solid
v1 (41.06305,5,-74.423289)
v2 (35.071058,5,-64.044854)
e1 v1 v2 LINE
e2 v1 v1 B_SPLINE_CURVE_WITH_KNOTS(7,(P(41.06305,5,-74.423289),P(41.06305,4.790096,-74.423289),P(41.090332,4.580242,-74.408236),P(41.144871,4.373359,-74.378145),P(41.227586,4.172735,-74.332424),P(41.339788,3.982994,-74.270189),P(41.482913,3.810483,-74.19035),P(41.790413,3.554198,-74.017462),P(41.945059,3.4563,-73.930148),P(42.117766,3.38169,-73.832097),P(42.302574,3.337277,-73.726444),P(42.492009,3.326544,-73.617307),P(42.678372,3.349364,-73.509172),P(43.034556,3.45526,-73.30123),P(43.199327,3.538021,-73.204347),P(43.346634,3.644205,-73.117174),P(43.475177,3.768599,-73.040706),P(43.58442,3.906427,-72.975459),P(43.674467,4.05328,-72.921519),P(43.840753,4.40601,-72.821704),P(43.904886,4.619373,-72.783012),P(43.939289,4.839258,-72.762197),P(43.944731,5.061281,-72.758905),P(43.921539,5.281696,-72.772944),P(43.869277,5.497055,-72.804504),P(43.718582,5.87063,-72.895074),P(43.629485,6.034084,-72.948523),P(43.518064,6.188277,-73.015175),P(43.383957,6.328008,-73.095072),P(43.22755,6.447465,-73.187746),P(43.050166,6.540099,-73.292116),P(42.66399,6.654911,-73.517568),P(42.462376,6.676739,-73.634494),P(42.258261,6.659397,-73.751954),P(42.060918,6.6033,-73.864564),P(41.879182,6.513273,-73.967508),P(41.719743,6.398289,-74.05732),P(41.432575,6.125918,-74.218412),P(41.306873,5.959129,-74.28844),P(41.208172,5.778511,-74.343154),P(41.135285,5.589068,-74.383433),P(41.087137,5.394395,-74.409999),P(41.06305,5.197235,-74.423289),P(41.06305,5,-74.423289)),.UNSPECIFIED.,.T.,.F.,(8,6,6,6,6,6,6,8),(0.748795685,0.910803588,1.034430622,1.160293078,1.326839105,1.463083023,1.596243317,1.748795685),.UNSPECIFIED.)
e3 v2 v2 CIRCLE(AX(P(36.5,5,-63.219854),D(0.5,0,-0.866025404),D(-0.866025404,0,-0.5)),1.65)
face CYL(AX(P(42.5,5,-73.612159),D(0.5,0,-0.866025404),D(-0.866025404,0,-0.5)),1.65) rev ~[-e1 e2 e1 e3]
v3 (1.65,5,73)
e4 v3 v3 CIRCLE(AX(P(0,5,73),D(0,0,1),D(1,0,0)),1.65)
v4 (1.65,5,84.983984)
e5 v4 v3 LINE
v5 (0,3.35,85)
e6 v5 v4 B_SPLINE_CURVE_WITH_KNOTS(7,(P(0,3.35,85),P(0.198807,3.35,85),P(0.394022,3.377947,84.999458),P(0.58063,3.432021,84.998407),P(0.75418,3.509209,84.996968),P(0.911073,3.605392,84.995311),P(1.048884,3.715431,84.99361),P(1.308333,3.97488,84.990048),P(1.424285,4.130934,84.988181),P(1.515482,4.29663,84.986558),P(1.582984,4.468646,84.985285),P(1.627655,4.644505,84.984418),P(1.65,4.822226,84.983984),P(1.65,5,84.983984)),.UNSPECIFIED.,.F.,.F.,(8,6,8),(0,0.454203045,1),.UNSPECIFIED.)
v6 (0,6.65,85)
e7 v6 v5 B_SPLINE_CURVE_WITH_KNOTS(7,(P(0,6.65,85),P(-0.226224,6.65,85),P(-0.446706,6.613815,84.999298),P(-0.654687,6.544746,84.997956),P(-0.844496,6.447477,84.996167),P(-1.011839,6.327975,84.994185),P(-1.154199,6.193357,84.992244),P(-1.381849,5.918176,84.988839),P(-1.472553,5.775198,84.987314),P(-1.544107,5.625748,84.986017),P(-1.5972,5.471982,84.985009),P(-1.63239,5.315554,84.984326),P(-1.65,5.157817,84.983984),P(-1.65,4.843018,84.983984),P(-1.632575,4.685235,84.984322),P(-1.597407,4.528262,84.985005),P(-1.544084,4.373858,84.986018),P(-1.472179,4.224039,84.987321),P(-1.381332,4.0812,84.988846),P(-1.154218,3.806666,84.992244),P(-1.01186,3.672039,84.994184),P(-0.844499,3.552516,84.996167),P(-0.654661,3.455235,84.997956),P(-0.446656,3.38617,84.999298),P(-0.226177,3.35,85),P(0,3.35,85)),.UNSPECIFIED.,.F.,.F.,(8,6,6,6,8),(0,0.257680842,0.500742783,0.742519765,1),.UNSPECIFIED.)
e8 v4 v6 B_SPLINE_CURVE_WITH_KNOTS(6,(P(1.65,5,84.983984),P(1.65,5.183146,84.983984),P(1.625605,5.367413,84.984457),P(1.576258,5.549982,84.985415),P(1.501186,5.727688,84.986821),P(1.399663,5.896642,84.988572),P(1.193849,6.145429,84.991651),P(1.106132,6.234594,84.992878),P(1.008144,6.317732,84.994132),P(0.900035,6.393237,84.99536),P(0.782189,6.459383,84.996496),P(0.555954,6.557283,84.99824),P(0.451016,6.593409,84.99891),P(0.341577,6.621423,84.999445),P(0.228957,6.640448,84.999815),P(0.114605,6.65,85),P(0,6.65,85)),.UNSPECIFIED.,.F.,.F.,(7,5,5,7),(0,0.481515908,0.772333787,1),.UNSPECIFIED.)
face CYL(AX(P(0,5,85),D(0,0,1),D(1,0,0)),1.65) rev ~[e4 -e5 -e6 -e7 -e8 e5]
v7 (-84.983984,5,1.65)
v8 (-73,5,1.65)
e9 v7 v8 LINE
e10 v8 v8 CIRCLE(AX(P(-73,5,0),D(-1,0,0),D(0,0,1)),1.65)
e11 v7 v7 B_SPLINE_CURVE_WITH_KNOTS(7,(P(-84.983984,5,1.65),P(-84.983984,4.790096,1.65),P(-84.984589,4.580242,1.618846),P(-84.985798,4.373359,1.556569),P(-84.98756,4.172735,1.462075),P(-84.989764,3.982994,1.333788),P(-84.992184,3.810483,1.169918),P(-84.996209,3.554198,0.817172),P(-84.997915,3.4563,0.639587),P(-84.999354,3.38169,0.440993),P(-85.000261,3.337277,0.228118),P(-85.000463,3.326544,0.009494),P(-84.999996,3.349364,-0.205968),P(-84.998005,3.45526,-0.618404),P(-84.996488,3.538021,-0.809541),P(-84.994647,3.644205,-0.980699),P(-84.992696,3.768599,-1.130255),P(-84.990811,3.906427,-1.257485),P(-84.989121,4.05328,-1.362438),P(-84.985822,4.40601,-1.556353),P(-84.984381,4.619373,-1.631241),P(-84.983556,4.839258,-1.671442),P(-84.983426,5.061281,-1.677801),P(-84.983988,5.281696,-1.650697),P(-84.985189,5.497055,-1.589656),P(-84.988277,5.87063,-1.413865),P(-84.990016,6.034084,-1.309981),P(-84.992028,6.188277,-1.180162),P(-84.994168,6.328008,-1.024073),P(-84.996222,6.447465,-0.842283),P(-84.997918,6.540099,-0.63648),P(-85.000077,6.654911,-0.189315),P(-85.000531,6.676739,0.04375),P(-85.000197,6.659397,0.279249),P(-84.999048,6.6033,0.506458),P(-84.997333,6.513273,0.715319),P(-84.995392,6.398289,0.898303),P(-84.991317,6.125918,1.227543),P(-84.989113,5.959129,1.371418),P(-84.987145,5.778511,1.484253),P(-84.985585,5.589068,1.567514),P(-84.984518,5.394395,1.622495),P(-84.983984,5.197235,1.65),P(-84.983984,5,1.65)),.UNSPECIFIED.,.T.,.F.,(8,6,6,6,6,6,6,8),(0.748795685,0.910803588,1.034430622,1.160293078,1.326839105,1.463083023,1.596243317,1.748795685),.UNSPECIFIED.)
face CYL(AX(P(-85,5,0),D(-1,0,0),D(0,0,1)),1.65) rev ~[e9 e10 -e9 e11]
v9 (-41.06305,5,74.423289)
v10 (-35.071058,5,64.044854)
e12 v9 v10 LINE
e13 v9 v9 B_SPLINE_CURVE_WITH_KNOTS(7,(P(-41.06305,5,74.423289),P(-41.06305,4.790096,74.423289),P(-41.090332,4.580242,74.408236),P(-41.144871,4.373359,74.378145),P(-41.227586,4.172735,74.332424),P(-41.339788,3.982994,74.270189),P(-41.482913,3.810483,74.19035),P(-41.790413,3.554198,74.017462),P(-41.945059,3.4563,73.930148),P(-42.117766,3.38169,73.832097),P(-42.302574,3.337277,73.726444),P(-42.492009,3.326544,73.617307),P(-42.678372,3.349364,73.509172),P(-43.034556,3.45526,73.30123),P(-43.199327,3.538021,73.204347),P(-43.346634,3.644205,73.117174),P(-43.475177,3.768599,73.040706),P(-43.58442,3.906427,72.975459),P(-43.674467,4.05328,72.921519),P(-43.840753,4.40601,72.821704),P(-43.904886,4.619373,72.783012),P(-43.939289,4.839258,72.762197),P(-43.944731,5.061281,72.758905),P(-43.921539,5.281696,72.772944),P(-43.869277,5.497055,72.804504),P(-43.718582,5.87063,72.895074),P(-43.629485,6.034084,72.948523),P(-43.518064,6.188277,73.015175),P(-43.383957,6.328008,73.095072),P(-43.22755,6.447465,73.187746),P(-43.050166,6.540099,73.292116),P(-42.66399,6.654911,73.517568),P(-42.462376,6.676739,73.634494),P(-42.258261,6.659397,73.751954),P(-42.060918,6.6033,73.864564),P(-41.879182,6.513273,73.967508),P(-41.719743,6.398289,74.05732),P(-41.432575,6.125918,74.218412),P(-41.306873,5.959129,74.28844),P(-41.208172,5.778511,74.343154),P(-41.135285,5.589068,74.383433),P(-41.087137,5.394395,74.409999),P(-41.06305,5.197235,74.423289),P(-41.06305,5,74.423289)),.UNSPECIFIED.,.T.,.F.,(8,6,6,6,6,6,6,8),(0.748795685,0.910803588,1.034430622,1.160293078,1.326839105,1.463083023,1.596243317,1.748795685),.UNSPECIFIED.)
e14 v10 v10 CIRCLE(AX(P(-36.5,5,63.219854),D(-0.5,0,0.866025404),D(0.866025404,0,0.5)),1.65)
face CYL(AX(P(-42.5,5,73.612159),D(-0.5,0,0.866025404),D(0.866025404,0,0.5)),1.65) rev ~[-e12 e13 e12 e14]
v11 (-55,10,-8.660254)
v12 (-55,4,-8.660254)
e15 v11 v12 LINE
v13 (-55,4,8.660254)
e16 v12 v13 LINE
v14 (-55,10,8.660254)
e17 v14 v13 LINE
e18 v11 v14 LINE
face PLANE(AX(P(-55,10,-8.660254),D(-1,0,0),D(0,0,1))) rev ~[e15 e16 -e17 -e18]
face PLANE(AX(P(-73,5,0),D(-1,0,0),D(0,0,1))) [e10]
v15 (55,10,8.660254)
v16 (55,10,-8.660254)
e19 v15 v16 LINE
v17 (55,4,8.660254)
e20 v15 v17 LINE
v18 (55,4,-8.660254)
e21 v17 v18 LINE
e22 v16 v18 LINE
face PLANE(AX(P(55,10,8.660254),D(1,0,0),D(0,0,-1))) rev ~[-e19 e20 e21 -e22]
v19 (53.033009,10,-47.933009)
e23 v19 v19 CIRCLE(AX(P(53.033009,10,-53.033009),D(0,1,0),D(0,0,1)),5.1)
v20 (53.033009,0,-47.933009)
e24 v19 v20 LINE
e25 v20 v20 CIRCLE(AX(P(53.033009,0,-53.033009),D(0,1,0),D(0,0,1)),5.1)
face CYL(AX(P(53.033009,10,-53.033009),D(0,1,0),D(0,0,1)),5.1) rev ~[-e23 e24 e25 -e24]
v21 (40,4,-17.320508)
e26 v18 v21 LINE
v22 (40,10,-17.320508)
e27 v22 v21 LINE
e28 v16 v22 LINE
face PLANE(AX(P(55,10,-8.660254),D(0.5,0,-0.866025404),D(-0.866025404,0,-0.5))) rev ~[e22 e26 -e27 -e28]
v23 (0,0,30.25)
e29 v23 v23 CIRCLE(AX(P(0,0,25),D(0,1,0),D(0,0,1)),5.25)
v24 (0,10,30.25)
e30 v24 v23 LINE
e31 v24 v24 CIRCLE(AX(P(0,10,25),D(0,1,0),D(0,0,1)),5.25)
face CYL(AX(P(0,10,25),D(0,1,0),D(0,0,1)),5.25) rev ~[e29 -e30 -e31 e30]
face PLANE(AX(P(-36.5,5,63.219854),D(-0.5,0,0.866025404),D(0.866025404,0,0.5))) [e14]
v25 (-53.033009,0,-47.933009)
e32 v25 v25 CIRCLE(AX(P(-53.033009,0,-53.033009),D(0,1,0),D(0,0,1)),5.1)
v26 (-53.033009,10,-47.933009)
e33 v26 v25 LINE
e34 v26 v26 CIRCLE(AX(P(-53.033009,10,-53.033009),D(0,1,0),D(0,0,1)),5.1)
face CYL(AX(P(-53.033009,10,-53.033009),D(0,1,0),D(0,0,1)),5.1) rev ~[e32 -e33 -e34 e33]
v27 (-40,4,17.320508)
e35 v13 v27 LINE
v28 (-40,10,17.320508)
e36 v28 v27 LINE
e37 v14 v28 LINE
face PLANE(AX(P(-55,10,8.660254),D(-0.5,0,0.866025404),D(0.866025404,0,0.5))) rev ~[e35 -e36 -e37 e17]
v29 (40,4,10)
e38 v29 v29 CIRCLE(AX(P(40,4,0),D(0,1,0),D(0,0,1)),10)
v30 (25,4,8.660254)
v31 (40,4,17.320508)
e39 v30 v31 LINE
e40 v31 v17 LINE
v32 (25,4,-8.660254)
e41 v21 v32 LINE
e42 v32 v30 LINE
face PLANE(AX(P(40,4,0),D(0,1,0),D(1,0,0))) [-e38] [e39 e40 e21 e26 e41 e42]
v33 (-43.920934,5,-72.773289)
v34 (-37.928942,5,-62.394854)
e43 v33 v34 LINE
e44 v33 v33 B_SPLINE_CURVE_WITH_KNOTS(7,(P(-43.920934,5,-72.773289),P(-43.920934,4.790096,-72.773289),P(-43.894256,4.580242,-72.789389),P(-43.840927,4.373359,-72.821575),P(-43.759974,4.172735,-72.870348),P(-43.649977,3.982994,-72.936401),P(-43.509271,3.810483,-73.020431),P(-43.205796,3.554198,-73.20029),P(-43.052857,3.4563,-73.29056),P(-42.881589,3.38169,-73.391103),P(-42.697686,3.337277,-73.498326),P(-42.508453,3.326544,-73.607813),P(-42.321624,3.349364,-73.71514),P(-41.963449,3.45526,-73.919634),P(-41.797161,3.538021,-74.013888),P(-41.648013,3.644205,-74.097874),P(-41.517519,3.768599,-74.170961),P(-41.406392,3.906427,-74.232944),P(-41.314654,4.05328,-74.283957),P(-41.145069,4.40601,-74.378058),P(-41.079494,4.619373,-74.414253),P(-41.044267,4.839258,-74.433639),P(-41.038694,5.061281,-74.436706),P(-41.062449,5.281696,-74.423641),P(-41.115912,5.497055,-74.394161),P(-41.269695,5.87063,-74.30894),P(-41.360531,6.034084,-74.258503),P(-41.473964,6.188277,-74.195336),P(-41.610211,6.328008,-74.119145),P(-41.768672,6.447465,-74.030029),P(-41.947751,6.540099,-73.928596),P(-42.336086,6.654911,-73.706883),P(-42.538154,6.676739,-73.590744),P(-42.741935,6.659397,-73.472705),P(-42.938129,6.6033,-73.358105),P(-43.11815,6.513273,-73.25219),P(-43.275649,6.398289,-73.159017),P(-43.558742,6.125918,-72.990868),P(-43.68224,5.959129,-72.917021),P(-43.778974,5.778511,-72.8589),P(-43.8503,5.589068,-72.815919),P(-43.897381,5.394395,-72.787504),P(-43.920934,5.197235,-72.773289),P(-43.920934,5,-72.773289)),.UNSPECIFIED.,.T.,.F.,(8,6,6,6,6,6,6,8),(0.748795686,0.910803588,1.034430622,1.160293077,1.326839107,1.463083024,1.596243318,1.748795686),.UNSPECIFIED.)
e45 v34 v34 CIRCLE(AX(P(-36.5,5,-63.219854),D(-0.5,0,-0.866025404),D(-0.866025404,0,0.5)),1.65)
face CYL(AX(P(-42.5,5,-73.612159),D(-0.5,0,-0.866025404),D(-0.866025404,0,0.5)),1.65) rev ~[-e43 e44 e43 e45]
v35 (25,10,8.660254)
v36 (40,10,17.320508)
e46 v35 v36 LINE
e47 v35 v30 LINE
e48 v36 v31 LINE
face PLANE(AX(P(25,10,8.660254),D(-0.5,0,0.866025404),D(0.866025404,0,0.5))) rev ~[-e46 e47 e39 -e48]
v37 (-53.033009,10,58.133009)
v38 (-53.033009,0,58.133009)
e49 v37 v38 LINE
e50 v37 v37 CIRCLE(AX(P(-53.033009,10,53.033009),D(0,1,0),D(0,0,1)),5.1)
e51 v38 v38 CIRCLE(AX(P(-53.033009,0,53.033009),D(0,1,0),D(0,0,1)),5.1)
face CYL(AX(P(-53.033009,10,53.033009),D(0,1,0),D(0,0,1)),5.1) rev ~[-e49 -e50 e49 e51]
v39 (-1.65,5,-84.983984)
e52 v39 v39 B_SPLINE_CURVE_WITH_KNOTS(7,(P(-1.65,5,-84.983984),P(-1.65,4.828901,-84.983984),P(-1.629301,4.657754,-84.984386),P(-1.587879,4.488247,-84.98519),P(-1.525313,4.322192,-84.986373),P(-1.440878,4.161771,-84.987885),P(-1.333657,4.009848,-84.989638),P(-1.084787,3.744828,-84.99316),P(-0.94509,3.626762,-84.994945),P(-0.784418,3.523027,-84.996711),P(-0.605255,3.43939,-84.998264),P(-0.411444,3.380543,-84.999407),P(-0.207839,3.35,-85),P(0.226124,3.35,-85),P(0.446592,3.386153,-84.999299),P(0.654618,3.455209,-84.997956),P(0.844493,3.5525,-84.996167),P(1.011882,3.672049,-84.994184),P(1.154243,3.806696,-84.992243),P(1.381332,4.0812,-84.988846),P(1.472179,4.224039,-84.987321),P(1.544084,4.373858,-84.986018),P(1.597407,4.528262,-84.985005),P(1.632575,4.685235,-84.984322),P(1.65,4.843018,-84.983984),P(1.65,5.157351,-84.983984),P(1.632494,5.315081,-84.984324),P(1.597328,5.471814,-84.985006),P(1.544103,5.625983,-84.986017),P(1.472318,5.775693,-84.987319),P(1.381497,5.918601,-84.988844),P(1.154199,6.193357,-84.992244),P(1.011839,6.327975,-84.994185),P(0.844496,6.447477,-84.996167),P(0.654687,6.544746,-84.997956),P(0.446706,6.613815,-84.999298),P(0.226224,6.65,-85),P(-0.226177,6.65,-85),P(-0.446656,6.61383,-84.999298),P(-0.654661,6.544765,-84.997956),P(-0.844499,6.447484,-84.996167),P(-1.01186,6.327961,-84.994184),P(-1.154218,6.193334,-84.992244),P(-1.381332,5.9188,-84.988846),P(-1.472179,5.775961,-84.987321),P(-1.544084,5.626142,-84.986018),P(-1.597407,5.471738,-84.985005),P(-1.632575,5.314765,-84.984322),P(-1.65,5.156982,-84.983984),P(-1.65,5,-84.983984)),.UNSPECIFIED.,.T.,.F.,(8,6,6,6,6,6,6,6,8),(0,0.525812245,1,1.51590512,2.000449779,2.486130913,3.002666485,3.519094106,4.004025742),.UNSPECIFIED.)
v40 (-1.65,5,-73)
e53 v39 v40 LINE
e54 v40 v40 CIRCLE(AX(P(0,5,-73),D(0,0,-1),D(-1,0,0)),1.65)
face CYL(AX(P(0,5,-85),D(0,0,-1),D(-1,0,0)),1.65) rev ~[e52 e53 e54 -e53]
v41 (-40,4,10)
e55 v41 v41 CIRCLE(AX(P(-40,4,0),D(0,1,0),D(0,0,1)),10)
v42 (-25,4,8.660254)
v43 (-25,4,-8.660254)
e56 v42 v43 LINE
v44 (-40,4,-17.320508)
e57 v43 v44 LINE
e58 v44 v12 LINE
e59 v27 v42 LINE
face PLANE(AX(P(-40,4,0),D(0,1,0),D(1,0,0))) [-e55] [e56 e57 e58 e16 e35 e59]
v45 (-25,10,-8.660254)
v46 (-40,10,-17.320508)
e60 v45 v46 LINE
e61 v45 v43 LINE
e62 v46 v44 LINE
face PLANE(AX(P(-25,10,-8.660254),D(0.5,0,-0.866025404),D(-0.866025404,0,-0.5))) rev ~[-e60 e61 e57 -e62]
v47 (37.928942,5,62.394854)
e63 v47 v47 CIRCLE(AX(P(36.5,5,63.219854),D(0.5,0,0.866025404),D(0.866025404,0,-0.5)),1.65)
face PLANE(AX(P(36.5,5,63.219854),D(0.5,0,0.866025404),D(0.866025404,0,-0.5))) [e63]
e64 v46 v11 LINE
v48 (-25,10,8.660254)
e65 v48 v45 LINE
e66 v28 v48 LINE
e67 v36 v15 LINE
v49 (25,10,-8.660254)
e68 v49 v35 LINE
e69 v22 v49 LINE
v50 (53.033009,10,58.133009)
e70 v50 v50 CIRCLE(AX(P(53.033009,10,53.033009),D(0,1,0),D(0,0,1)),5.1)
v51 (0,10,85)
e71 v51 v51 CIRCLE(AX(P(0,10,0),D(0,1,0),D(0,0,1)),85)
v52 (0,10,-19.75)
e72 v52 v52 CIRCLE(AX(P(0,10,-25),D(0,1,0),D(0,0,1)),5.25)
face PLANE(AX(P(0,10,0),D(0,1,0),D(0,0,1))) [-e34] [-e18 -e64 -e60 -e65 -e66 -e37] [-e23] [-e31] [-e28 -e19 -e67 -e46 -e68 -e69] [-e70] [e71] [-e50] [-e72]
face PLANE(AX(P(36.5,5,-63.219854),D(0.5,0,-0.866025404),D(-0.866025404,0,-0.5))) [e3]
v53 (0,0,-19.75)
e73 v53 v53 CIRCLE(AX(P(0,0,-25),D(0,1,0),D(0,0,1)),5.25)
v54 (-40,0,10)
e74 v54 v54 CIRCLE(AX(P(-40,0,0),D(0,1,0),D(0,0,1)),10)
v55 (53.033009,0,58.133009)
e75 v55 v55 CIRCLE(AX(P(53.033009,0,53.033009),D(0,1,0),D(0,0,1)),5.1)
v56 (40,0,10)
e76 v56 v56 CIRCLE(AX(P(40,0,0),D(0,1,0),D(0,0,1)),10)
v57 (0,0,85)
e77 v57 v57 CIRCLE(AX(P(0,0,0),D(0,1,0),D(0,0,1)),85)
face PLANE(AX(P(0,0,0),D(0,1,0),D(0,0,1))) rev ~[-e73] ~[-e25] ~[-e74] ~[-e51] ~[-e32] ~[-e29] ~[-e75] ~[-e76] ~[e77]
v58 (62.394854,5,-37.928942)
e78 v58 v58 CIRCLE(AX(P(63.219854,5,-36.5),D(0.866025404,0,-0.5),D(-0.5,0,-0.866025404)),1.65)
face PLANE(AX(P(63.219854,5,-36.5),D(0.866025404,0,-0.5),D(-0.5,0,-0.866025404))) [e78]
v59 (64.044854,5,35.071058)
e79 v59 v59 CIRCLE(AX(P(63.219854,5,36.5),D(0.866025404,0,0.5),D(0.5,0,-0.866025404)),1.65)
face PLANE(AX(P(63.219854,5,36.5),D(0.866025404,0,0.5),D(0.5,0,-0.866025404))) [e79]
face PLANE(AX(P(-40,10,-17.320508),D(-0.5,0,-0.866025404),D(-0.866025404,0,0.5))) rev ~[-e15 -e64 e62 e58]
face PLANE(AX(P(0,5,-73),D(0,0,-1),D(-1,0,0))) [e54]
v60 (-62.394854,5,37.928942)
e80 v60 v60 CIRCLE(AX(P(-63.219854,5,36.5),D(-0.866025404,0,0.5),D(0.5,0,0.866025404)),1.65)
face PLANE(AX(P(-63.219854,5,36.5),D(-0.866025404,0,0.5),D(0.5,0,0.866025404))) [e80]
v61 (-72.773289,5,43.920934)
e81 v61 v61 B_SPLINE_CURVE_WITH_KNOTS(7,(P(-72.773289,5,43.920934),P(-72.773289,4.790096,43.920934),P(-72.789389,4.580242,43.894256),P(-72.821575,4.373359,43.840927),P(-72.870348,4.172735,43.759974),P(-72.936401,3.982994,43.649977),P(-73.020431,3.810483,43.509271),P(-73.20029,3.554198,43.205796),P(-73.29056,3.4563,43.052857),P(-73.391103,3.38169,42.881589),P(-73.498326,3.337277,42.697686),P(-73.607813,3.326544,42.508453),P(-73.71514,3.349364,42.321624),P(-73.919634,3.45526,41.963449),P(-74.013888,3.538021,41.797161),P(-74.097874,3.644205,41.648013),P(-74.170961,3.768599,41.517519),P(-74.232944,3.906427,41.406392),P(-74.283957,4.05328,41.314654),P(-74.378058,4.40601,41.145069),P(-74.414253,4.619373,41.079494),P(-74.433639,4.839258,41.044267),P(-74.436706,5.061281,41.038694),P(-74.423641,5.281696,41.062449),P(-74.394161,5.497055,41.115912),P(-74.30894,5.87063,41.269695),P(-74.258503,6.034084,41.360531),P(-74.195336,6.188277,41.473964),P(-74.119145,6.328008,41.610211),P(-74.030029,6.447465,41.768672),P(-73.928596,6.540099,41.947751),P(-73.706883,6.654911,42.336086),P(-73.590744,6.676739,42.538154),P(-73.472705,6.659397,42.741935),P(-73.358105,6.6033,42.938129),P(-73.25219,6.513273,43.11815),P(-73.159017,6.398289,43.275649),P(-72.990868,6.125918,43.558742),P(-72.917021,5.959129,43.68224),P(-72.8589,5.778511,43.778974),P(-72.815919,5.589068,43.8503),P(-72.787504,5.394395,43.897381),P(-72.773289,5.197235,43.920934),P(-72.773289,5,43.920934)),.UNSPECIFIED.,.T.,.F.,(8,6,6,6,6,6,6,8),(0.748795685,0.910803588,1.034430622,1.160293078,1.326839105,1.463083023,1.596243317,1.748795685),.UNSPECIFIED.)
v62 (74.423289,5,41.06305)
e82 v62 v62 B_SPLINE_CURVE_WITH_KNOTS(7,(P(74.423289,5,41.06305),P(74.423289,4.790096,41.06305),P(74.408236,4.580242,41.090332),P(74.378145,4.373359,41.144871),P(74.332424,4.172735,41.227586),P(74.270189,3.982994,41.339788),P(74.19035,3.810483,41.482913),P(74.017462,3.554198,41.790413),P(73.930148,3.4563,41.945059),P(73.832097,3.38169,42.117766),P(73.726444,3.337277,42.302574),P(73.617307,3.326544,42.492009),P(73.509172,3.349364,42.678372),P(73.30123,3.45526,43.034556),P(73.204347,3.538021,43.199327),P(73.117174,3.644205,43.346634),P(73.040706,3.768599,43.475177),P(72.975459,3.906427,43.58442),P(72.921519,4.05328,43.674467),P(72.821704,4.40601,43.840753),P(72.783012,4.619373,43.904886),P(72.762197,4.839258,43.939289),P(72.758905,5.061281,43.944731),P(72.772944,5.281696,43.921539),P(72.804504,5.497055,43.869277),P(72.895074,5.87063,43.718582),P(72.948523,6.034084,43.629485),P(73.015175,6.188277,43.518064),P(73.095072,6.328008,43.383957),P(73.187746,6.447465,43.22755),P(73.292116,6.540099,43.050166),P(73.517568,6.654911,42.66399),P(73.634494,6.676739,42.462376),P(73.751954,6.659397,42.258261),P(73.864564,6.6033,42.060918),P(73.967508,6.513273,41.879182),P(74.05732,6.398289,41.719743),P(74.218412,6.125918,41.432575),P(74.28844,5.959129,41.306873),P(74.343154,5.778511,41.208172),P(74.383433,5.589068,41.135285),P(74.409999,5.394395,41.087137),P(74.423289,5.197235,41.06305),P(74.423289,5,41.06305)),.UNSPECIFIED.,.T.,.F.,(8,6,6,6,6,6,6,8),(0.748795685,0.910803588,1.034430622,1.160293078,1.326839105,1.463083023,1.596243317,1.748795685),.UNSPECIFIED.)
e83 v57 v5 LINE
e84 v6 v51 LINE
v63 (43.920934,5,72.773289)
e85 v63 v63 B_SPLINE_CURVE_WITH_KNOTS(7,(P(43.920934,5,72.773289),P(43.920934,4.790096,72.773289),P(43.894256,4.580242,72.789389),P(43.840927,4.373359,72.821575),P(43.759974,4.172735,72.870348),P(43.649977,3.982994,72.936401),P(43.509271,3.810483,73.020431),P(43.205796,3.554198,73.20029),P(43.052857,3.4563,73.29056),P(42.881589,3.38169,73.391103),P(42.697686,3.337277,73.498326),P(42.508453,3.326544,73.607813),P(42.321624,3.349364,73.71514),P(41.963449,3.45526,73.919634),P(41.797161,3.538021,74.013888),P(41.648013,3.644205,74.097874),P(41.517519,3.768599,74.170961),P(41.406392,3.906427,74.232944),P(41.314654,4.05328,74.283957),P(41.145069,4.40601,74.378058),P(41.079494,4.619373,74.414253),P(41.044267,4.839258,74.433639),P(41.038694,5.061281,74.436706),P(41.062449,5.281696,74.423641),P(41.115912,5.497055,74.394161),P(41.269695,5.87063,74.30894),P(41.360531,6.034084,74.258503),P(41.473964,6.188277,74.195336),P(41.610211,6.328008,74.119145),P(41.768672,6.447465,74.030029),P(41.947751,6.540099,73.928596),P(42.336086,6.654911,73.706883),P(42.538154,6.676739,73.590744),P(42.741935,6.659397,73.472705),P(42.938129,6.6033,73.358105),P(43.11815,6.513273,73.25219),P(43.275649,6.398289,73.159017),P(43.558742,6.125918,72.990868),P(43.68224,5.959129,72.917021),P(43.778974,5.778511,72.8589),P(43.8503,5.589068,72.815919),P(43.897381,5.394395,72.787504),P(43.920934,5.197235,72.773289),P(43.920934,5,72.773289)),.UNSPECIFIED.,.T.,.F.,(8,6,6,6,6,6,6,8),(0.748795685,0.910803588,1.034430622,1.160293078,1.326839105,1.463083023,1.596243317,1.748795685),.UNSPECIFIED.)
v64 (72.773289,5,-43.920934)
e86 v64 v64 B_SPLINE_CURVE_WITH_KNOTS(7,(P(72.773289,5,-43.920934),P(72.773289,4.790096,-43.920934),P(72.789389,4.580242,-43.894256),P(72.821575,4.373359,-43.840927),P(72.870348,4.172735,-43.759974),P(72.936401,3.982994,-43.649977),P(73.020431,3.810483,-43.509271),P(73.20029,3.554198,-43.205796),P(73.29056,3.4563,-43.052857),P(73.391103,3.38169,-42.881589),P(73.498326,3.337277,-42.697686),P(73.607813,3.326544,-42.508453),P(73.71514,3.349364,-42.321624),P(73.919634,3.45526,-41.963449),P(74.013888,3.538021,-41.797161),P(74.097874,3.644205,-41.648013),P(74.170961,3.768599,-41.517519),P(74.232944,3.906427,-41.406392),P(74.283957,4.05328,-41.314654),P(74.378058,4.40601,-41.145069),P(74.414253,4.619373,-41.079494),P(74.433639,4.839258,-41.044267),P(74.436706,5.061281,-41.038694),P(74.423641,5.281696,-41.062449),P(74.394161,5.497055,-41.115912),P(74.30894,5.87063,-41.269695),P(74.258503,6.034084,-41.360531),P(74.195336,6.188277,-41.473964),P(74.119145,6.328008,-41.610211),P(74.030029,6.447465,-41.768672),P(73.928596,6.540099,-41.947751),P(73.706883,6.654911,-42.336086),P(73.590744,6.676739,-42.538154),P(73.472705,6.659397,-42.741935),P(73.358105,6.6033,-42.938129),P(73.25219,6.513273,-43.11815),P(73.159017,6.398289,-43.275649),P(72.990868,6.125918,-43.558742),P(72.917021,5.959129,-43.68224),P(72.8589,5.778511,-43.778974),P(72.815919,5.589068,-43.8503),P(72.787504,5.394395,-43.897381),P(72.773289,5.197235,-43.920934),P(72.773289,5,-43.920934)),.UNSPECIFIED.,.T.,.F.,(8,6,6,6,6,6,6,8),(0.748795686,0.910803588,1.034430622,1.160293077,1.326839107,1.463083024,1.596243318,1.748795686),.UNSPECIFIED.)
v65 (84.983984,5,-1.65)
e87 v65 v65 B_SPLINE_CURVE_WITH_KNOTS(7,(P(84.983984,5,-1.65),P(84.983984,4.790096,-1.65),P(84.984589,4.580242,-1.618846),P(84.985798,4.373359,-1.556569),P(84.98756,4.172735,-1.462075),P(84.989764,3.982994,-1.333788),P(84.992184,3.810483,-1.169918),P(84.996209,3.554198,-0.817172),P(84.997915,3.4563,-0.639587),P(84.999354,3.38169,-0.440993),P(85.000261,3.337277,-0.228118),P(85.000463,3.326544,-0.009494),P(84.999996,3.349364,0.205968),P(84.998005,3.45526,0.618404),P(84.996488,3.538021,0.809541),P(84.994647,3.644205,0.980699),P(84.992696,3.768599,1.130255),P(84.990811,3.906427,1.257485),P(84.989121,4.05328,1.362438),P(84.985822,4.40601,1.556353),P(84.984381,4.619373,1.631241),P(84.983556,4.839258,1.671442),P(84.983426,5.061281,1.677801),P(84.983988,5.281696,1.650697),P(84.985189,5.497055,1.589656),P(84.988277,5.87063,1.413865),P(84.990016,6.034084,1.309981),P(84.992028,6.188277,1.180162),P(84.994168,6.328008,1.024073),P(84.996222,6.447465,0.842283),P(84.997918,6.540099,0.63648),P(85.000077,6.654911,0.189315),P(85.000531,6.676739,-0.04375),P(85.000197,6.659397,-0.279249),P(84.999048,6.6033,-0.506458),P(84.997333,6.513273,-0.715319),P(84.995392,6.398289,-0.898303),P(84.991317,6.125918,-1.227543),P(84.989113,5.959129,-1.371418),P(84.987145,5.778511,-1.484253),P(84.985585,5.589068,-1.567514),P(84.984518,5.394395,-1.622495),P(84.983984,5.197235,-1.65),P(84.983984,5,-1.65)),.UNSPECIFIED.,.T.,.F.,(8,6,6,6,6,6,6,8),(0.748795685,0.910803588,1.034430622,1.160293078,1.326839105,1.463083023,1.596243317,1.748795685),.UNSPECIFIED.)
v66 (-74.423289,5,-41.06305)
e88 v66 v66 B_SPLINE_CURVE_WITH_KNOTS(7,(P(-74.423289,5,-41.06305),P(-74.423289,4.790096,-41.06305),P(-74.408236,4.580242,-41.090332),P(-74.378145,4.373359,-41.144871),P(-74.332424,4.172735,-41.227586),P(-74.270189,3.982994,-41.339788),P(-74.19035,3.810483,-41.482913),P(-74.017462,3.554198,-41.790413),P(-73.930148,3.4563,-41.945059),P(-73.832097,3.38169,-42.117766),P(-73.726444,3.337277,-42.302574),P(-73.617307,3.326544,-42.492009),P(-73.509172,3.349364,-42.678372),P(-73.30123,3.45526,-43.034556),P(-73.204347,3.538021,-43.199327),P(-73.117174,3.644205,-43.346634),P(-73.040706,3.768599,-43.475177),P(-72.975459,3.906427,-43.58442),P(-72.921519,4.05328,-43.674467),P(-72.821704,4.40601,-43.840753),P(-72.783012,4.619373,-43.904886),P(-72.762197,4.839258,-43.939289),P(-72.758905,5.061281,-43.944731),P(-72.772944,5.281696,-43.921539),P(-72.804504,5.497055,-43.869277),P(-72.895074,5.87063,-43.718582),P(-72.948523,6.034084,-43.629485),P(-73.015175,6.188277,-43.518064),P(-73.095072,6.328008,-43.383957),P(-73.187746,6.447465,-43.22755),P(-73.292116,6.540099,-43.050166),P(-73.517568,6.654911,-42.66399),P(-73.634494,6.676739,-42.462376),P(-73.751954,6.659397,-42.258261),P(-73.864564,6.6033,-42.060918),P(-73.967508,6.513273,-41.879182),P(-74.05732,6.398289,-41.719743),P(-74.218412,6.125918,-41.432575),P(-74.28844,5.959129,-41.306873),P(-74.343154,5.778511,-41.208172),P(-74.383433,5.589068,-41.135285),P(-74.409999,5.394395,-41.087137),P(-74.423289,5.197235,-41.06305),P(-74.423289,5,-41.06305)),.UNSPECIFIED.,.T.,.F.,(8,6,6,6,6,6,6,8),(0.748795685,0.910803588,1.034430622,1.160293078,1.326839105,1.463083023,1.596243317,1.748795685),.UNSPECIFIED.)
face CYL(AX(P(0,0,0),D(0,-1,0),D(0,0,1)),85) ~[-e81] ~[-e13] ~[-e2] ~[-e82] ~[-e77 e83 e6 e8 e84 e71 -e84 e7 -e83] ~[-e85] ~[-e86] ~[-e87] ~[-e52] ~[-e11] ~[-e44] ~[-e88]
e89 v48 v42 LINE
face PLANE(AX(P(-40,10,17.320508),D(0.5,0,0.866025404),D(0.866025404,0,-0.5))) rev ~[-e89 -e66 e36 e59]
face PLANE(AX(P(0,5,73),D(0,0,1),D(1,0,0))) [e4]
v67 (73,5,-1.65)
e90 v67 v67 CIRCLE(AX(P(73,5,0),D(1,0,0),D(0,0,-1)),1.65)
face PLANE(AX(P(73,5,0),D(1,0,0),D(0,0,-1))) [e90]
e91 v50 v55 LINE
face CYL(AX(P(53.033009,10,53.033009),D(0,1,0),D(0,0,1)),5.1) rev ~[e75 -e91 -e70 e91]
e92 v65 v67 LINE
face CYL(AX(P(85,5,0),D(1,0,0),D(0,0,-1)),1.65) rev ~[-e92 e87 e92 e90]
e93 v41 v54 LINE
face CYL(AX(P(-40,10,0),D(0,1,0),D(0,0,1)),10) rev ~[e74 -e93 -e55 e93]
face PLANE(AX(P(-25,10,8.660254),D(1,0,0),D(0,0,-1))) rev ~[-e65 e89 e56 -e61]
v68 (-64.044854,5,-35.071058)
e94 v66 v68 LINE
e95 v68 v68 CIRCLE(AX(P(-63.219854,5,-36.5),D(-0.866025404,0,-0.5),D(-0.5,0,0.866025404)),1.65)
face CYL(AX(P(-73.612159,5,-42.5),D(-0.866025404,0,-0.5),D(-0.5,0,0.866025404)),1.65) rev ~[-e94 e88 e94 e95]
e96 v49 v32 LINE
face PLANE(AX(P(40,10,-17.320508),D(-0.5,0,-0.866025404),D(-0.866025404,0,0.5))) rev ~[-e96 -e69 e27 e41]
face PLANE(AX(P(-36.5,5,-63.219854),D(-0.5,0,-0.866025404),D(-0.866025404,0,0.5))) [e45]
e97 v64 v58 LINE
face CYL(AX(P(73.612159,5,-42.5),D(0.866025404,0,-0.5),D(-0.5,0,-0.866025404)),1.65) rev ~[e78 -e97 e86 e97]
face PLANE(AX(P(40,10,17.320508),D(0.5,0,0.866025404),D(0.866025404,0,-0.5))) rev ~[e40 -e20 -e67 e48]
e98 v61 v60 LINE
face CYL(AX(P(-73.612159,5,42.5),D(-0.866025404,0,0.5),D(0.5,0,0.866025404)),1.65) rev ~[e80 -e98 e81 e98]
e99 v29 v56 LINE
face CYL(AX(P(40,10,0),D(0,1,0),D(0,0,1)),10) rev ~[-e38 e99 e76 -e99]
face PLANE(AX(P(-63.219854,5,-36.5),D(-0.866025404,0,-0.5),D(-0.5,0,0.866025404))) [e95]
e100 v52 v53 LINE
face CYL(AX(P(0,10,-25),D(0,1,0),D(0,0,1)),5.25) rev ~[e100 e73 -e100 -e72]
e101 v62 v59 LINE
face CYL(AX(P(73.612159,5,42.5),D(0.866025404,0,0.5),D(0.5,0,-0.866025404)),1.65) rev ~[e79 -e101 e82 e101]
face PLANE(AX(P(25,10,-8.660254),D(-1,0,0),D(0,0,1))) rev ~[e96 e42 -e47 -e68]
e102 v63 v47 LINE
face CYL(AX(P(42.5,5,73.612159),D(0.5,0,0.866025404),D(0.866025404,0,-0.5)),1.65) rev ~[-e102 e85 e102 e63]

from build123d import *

# Parameters (mm, degrees)
SZKIC1_R                    = 85
DODANIE_WYCI_GNI_CIE1_DEPTH = 10
CUT_EXTRUDE1_REACH          = 122.623
SZKIC2_R                    = 10
SZKIC2_R_2                  = 5.25
SZKIC2_R_3                  = 5.1
CUT_EXTRUDE2_DEPTH          = 6
SKETCH2_R                   = 1.65
CUT_EXTRUDE3_DEPTH          = 12
CIRPATTERN1_COUNT           = 12


with BuildPart() as part:
    # Szkic1 → Dodanie-wyciągnięcie1 (new body)
    with BuildSketch(Plane(origin=(0, 0, 0), x_dir=(1, 0, 0), z_dir=(0, 1, 0))):
        with Locations(Location((0, 0, 0), (0, 0, 270))):
            Circle(SZKIC1_R)
    extrude(amount=DODANIE_WYCI_GNI_CIE1_DEPTH)

    # Szkic2 → Cut-Extrude1 (cut, up to next)
    with BuildSketch(Plane(origin=(0, 10, 0), x_dir=(1, 0, 0), z_dir=(0, 1, 0)), mode=Mode.PRIVATE) as cut_extrude1_sk1:
        with Locations(Location((-40, 0, 0), (0, 0, 270))):
            Circle(SZKIC2_R)
    cut_extrude1_tool1 = extrude(cut_extrude1_sk1.sketch, amount=-CUT_EXTRUDE1_REACH, mode=Mode.PRIVATE) & part.part
    # Szkic2 → Cut-Extrude1 (cut, up to next)
    with BuildSketch(Plane(origin=(0, 10, 0), x_dir=(1, 0, 0), z_dir=(0, 1, 0)), mode=Mode.PRIVATE) as cut_extrude1_sk2:
        with Locations(Location((0, 25, 0), (0, 0, 270))):
            Circle(SZKIC2_R_2)
    cut_extrude1_tool2 = extrude(cut_extrude1_sk2.sketch, amount=-CUT_EXTRUDE1_REACH, mode=Mode.PRIVATE) & part.part
    # Szkic2 → Cut-Extrude1 (cut, up to next)
    with BuildSketch(Plane(origin=(0, 10, 0), x_dir=(1, 0, 0), z_dir=(0, 1, 0)), mode=Mode.PRIVATE) as cut_extrude1_sk3:
        with Locations(Location((53.033008589, 53.033008589, 0), (0, 0, 270))):
            Circle(SZKIC2_R_3)
    cut_extrude1_tool3 = extrude(cut_extrude1_sk3.sketch, amount=-CUT_EXTRUDE1_REACH, mode=Mode.PRIVATE) & part.part
    # Szkic2 → Cut-Extrude1 (cut, up to next)
    with BuildSketch(Plane(origin=(0, 10, 0), x_dir=(1, 0, 0), z_dir=(0, 1, 0)), mode=Mode.PRIVATE) as cut_extrude1_sk4:
        with Locations(Location((53.033008589, -53.033008589, 0), (0, 0, 270))):
            Circle(SZKIC2_R_3)
    cut_extrude1_tool4 = extrude(cut_extrude1_sk4.sketch, amount=-CUT_EXTRUDE1_REACH, mode=Mode.PRIVATE) & part.part
    # Szkic2 → Cut-Extrude1 (cut, up to next)
    with BuildSketch(Plane(origin=(0, 10, 0), x_dir=(1, 0, 0), z_dir=(0, 1, 0)), mode=Mode.PRIVATE) as cut_extrude1_sk5:
        with Locations(Location((-53.033008589, -53.033008589, 0), (0, 0, 270))):
            Circle(SZKIC2_R_3)
    cut_extrude1_tool5 = extrude(cut_extrude1_sk5.sketch, amount=-CUT_EXTRUDE1_REACH, mode=Mode.PRIVATE) & part.part
    # Szkic2 → Cut-Extrude1 (cut, up to next)
    with BuildSketch(Plane(origin=(0, 10, 0), x_dir=(1, 0, 0), z_dir=(0, 1, 0)), mode=Mode.PRIVATE) as cut_extrude1_sk6:
        with Locations(Location((-53.033008589, 53.033008589, 0), (0, 0, 270))):
            Circle(SZKIC2_R_3)
    cut_extrude1_tool6 = extrude(cut_extrude1_sk6.sketch, amount=-CUT_EXTRUDE1_REACH, mode=Mode.PRIVATE) & part.part
    # Szkic2 → Cut-Extrude1 (cut, up to next)
    with BuildSketch(Plane(origin=(0, 10, 0), x_dir=(1, 0, 0), z_dir=(0, 1, 0)), mode=Mode.PRIVATE) as cut_extrude1_sk7:
        with Locations(Location((0, -25, 0), (0, 0, 270))):
            Circle(SZKIC2_R_2)
    cut_extrude1_tool7 = extrude(cut_extrude1_sk7.sketch, amount=-CUT_EXTRUDE1_REACH, mode=Mode.PRIVATE) & part.part
    # Szkic2 → Cut-Extrude1 (cut, up to next)
    with BuildSketch(Plane(origin=(0, 10, 0), x_dir=(1, 0, 0), z_dir=(0, 1, 0)), mode=Mode.PRIVATE) as cut_extrude1_sk8:
        with Locations(Location((40, 0, 0), (0, 0, 270))):
            Circle(SZKIC2_R)
    cut_extrude1_tool8 = extrude(cut_extrude1_sk8.sketch, amount=-CUT_EXTRUDE1_REACH, mode=Mode.PRIVATE) & part.part
    add(cut_extrude1_tool1.solids().sort_by_distance((-40, 10, 0))[0], mode=Mode.SUBTRACT)
    add(cut_extrude1_tool2.solids().sort_by_distance((0, 10, -25))[0], mode=Mode.SUBTRACT)
    add(cut_extrude1_tool3.solids().sort_by_distance((53.033009, 10, -53.033009))[0], mode=Mode.SUBTRACT)
    add(cut_extrude1_tool4.solids().sort_by_distance((53.033009, 10, 53.033009))[0], mode=Mode.SUBTRACT)
    add(cut_extrude1_tool5.solids().sort_by_distance((-53.033009, 10, 53.033009))[0], mode=Mode.SUBTRACT)
    add(cut_extrude1_tool6.solids().sort_by_distance((-53.033009, 10, -53.033009))[0], mode=Mode.SUBTRACT)
    add(cut_extrude1_tool7.solids().sort_by_distance((0, 10, 25))[0], mode=Mode.SUBTRACT)
    add(cut_extrude1_tool8.solids().sort_by_distance((40, 10, 0))[0], mode=Mode.SUBTRACT)

    # Sketch1 → Cut-Extrude2 (cut)
    with BuildSketch(Plane(origin=(0, 10, 0), x_dir=(1, 0, 0), z_dir=(0, 1, 0))):
        Polygon((-25, -8.660254038), (-25, 8.660254038), (-40, 17.320508076), (-55, 8.660254038), (-55, -8.660254038), (-40, -17.320508076), align=None)
        Polygon((25, -8.660254038), (40, -17.320508076), (55, -8.660254038), (55, 8.660254038), (40, 17.320508076), (25, 8.660254038), align=None)
    extrude(amount=-CUT_EXTRUDE2_DEPTH, mode=Mode.SUBTRACT)

    # Sketch2 → Cut-Extrude3 (cut)
    with BuildSketch(Plane.ZY.offset(85)):
        with Locations((0, 5)):
            Circle(SKETCH2_R)
    cut_extrude3 = extrude(amount=-CUT_EXTRUDE3_DEPTH, mode=Mode.SUBTRACT)

    # CirPattern1: Cut-Extrude3 ×12 about axis
    cirpattern1_axis = Axis((0, 0, 0), (0, 1, 0))
    for i in range(1, CIRPATTERN1_COUNT):
        add(cut_extrude3.rotate(cirpattern1_axis, i * 360 / CIRPATTERN1_COUNT), mode=Mode.SUBTRACT)


solid = part.part
